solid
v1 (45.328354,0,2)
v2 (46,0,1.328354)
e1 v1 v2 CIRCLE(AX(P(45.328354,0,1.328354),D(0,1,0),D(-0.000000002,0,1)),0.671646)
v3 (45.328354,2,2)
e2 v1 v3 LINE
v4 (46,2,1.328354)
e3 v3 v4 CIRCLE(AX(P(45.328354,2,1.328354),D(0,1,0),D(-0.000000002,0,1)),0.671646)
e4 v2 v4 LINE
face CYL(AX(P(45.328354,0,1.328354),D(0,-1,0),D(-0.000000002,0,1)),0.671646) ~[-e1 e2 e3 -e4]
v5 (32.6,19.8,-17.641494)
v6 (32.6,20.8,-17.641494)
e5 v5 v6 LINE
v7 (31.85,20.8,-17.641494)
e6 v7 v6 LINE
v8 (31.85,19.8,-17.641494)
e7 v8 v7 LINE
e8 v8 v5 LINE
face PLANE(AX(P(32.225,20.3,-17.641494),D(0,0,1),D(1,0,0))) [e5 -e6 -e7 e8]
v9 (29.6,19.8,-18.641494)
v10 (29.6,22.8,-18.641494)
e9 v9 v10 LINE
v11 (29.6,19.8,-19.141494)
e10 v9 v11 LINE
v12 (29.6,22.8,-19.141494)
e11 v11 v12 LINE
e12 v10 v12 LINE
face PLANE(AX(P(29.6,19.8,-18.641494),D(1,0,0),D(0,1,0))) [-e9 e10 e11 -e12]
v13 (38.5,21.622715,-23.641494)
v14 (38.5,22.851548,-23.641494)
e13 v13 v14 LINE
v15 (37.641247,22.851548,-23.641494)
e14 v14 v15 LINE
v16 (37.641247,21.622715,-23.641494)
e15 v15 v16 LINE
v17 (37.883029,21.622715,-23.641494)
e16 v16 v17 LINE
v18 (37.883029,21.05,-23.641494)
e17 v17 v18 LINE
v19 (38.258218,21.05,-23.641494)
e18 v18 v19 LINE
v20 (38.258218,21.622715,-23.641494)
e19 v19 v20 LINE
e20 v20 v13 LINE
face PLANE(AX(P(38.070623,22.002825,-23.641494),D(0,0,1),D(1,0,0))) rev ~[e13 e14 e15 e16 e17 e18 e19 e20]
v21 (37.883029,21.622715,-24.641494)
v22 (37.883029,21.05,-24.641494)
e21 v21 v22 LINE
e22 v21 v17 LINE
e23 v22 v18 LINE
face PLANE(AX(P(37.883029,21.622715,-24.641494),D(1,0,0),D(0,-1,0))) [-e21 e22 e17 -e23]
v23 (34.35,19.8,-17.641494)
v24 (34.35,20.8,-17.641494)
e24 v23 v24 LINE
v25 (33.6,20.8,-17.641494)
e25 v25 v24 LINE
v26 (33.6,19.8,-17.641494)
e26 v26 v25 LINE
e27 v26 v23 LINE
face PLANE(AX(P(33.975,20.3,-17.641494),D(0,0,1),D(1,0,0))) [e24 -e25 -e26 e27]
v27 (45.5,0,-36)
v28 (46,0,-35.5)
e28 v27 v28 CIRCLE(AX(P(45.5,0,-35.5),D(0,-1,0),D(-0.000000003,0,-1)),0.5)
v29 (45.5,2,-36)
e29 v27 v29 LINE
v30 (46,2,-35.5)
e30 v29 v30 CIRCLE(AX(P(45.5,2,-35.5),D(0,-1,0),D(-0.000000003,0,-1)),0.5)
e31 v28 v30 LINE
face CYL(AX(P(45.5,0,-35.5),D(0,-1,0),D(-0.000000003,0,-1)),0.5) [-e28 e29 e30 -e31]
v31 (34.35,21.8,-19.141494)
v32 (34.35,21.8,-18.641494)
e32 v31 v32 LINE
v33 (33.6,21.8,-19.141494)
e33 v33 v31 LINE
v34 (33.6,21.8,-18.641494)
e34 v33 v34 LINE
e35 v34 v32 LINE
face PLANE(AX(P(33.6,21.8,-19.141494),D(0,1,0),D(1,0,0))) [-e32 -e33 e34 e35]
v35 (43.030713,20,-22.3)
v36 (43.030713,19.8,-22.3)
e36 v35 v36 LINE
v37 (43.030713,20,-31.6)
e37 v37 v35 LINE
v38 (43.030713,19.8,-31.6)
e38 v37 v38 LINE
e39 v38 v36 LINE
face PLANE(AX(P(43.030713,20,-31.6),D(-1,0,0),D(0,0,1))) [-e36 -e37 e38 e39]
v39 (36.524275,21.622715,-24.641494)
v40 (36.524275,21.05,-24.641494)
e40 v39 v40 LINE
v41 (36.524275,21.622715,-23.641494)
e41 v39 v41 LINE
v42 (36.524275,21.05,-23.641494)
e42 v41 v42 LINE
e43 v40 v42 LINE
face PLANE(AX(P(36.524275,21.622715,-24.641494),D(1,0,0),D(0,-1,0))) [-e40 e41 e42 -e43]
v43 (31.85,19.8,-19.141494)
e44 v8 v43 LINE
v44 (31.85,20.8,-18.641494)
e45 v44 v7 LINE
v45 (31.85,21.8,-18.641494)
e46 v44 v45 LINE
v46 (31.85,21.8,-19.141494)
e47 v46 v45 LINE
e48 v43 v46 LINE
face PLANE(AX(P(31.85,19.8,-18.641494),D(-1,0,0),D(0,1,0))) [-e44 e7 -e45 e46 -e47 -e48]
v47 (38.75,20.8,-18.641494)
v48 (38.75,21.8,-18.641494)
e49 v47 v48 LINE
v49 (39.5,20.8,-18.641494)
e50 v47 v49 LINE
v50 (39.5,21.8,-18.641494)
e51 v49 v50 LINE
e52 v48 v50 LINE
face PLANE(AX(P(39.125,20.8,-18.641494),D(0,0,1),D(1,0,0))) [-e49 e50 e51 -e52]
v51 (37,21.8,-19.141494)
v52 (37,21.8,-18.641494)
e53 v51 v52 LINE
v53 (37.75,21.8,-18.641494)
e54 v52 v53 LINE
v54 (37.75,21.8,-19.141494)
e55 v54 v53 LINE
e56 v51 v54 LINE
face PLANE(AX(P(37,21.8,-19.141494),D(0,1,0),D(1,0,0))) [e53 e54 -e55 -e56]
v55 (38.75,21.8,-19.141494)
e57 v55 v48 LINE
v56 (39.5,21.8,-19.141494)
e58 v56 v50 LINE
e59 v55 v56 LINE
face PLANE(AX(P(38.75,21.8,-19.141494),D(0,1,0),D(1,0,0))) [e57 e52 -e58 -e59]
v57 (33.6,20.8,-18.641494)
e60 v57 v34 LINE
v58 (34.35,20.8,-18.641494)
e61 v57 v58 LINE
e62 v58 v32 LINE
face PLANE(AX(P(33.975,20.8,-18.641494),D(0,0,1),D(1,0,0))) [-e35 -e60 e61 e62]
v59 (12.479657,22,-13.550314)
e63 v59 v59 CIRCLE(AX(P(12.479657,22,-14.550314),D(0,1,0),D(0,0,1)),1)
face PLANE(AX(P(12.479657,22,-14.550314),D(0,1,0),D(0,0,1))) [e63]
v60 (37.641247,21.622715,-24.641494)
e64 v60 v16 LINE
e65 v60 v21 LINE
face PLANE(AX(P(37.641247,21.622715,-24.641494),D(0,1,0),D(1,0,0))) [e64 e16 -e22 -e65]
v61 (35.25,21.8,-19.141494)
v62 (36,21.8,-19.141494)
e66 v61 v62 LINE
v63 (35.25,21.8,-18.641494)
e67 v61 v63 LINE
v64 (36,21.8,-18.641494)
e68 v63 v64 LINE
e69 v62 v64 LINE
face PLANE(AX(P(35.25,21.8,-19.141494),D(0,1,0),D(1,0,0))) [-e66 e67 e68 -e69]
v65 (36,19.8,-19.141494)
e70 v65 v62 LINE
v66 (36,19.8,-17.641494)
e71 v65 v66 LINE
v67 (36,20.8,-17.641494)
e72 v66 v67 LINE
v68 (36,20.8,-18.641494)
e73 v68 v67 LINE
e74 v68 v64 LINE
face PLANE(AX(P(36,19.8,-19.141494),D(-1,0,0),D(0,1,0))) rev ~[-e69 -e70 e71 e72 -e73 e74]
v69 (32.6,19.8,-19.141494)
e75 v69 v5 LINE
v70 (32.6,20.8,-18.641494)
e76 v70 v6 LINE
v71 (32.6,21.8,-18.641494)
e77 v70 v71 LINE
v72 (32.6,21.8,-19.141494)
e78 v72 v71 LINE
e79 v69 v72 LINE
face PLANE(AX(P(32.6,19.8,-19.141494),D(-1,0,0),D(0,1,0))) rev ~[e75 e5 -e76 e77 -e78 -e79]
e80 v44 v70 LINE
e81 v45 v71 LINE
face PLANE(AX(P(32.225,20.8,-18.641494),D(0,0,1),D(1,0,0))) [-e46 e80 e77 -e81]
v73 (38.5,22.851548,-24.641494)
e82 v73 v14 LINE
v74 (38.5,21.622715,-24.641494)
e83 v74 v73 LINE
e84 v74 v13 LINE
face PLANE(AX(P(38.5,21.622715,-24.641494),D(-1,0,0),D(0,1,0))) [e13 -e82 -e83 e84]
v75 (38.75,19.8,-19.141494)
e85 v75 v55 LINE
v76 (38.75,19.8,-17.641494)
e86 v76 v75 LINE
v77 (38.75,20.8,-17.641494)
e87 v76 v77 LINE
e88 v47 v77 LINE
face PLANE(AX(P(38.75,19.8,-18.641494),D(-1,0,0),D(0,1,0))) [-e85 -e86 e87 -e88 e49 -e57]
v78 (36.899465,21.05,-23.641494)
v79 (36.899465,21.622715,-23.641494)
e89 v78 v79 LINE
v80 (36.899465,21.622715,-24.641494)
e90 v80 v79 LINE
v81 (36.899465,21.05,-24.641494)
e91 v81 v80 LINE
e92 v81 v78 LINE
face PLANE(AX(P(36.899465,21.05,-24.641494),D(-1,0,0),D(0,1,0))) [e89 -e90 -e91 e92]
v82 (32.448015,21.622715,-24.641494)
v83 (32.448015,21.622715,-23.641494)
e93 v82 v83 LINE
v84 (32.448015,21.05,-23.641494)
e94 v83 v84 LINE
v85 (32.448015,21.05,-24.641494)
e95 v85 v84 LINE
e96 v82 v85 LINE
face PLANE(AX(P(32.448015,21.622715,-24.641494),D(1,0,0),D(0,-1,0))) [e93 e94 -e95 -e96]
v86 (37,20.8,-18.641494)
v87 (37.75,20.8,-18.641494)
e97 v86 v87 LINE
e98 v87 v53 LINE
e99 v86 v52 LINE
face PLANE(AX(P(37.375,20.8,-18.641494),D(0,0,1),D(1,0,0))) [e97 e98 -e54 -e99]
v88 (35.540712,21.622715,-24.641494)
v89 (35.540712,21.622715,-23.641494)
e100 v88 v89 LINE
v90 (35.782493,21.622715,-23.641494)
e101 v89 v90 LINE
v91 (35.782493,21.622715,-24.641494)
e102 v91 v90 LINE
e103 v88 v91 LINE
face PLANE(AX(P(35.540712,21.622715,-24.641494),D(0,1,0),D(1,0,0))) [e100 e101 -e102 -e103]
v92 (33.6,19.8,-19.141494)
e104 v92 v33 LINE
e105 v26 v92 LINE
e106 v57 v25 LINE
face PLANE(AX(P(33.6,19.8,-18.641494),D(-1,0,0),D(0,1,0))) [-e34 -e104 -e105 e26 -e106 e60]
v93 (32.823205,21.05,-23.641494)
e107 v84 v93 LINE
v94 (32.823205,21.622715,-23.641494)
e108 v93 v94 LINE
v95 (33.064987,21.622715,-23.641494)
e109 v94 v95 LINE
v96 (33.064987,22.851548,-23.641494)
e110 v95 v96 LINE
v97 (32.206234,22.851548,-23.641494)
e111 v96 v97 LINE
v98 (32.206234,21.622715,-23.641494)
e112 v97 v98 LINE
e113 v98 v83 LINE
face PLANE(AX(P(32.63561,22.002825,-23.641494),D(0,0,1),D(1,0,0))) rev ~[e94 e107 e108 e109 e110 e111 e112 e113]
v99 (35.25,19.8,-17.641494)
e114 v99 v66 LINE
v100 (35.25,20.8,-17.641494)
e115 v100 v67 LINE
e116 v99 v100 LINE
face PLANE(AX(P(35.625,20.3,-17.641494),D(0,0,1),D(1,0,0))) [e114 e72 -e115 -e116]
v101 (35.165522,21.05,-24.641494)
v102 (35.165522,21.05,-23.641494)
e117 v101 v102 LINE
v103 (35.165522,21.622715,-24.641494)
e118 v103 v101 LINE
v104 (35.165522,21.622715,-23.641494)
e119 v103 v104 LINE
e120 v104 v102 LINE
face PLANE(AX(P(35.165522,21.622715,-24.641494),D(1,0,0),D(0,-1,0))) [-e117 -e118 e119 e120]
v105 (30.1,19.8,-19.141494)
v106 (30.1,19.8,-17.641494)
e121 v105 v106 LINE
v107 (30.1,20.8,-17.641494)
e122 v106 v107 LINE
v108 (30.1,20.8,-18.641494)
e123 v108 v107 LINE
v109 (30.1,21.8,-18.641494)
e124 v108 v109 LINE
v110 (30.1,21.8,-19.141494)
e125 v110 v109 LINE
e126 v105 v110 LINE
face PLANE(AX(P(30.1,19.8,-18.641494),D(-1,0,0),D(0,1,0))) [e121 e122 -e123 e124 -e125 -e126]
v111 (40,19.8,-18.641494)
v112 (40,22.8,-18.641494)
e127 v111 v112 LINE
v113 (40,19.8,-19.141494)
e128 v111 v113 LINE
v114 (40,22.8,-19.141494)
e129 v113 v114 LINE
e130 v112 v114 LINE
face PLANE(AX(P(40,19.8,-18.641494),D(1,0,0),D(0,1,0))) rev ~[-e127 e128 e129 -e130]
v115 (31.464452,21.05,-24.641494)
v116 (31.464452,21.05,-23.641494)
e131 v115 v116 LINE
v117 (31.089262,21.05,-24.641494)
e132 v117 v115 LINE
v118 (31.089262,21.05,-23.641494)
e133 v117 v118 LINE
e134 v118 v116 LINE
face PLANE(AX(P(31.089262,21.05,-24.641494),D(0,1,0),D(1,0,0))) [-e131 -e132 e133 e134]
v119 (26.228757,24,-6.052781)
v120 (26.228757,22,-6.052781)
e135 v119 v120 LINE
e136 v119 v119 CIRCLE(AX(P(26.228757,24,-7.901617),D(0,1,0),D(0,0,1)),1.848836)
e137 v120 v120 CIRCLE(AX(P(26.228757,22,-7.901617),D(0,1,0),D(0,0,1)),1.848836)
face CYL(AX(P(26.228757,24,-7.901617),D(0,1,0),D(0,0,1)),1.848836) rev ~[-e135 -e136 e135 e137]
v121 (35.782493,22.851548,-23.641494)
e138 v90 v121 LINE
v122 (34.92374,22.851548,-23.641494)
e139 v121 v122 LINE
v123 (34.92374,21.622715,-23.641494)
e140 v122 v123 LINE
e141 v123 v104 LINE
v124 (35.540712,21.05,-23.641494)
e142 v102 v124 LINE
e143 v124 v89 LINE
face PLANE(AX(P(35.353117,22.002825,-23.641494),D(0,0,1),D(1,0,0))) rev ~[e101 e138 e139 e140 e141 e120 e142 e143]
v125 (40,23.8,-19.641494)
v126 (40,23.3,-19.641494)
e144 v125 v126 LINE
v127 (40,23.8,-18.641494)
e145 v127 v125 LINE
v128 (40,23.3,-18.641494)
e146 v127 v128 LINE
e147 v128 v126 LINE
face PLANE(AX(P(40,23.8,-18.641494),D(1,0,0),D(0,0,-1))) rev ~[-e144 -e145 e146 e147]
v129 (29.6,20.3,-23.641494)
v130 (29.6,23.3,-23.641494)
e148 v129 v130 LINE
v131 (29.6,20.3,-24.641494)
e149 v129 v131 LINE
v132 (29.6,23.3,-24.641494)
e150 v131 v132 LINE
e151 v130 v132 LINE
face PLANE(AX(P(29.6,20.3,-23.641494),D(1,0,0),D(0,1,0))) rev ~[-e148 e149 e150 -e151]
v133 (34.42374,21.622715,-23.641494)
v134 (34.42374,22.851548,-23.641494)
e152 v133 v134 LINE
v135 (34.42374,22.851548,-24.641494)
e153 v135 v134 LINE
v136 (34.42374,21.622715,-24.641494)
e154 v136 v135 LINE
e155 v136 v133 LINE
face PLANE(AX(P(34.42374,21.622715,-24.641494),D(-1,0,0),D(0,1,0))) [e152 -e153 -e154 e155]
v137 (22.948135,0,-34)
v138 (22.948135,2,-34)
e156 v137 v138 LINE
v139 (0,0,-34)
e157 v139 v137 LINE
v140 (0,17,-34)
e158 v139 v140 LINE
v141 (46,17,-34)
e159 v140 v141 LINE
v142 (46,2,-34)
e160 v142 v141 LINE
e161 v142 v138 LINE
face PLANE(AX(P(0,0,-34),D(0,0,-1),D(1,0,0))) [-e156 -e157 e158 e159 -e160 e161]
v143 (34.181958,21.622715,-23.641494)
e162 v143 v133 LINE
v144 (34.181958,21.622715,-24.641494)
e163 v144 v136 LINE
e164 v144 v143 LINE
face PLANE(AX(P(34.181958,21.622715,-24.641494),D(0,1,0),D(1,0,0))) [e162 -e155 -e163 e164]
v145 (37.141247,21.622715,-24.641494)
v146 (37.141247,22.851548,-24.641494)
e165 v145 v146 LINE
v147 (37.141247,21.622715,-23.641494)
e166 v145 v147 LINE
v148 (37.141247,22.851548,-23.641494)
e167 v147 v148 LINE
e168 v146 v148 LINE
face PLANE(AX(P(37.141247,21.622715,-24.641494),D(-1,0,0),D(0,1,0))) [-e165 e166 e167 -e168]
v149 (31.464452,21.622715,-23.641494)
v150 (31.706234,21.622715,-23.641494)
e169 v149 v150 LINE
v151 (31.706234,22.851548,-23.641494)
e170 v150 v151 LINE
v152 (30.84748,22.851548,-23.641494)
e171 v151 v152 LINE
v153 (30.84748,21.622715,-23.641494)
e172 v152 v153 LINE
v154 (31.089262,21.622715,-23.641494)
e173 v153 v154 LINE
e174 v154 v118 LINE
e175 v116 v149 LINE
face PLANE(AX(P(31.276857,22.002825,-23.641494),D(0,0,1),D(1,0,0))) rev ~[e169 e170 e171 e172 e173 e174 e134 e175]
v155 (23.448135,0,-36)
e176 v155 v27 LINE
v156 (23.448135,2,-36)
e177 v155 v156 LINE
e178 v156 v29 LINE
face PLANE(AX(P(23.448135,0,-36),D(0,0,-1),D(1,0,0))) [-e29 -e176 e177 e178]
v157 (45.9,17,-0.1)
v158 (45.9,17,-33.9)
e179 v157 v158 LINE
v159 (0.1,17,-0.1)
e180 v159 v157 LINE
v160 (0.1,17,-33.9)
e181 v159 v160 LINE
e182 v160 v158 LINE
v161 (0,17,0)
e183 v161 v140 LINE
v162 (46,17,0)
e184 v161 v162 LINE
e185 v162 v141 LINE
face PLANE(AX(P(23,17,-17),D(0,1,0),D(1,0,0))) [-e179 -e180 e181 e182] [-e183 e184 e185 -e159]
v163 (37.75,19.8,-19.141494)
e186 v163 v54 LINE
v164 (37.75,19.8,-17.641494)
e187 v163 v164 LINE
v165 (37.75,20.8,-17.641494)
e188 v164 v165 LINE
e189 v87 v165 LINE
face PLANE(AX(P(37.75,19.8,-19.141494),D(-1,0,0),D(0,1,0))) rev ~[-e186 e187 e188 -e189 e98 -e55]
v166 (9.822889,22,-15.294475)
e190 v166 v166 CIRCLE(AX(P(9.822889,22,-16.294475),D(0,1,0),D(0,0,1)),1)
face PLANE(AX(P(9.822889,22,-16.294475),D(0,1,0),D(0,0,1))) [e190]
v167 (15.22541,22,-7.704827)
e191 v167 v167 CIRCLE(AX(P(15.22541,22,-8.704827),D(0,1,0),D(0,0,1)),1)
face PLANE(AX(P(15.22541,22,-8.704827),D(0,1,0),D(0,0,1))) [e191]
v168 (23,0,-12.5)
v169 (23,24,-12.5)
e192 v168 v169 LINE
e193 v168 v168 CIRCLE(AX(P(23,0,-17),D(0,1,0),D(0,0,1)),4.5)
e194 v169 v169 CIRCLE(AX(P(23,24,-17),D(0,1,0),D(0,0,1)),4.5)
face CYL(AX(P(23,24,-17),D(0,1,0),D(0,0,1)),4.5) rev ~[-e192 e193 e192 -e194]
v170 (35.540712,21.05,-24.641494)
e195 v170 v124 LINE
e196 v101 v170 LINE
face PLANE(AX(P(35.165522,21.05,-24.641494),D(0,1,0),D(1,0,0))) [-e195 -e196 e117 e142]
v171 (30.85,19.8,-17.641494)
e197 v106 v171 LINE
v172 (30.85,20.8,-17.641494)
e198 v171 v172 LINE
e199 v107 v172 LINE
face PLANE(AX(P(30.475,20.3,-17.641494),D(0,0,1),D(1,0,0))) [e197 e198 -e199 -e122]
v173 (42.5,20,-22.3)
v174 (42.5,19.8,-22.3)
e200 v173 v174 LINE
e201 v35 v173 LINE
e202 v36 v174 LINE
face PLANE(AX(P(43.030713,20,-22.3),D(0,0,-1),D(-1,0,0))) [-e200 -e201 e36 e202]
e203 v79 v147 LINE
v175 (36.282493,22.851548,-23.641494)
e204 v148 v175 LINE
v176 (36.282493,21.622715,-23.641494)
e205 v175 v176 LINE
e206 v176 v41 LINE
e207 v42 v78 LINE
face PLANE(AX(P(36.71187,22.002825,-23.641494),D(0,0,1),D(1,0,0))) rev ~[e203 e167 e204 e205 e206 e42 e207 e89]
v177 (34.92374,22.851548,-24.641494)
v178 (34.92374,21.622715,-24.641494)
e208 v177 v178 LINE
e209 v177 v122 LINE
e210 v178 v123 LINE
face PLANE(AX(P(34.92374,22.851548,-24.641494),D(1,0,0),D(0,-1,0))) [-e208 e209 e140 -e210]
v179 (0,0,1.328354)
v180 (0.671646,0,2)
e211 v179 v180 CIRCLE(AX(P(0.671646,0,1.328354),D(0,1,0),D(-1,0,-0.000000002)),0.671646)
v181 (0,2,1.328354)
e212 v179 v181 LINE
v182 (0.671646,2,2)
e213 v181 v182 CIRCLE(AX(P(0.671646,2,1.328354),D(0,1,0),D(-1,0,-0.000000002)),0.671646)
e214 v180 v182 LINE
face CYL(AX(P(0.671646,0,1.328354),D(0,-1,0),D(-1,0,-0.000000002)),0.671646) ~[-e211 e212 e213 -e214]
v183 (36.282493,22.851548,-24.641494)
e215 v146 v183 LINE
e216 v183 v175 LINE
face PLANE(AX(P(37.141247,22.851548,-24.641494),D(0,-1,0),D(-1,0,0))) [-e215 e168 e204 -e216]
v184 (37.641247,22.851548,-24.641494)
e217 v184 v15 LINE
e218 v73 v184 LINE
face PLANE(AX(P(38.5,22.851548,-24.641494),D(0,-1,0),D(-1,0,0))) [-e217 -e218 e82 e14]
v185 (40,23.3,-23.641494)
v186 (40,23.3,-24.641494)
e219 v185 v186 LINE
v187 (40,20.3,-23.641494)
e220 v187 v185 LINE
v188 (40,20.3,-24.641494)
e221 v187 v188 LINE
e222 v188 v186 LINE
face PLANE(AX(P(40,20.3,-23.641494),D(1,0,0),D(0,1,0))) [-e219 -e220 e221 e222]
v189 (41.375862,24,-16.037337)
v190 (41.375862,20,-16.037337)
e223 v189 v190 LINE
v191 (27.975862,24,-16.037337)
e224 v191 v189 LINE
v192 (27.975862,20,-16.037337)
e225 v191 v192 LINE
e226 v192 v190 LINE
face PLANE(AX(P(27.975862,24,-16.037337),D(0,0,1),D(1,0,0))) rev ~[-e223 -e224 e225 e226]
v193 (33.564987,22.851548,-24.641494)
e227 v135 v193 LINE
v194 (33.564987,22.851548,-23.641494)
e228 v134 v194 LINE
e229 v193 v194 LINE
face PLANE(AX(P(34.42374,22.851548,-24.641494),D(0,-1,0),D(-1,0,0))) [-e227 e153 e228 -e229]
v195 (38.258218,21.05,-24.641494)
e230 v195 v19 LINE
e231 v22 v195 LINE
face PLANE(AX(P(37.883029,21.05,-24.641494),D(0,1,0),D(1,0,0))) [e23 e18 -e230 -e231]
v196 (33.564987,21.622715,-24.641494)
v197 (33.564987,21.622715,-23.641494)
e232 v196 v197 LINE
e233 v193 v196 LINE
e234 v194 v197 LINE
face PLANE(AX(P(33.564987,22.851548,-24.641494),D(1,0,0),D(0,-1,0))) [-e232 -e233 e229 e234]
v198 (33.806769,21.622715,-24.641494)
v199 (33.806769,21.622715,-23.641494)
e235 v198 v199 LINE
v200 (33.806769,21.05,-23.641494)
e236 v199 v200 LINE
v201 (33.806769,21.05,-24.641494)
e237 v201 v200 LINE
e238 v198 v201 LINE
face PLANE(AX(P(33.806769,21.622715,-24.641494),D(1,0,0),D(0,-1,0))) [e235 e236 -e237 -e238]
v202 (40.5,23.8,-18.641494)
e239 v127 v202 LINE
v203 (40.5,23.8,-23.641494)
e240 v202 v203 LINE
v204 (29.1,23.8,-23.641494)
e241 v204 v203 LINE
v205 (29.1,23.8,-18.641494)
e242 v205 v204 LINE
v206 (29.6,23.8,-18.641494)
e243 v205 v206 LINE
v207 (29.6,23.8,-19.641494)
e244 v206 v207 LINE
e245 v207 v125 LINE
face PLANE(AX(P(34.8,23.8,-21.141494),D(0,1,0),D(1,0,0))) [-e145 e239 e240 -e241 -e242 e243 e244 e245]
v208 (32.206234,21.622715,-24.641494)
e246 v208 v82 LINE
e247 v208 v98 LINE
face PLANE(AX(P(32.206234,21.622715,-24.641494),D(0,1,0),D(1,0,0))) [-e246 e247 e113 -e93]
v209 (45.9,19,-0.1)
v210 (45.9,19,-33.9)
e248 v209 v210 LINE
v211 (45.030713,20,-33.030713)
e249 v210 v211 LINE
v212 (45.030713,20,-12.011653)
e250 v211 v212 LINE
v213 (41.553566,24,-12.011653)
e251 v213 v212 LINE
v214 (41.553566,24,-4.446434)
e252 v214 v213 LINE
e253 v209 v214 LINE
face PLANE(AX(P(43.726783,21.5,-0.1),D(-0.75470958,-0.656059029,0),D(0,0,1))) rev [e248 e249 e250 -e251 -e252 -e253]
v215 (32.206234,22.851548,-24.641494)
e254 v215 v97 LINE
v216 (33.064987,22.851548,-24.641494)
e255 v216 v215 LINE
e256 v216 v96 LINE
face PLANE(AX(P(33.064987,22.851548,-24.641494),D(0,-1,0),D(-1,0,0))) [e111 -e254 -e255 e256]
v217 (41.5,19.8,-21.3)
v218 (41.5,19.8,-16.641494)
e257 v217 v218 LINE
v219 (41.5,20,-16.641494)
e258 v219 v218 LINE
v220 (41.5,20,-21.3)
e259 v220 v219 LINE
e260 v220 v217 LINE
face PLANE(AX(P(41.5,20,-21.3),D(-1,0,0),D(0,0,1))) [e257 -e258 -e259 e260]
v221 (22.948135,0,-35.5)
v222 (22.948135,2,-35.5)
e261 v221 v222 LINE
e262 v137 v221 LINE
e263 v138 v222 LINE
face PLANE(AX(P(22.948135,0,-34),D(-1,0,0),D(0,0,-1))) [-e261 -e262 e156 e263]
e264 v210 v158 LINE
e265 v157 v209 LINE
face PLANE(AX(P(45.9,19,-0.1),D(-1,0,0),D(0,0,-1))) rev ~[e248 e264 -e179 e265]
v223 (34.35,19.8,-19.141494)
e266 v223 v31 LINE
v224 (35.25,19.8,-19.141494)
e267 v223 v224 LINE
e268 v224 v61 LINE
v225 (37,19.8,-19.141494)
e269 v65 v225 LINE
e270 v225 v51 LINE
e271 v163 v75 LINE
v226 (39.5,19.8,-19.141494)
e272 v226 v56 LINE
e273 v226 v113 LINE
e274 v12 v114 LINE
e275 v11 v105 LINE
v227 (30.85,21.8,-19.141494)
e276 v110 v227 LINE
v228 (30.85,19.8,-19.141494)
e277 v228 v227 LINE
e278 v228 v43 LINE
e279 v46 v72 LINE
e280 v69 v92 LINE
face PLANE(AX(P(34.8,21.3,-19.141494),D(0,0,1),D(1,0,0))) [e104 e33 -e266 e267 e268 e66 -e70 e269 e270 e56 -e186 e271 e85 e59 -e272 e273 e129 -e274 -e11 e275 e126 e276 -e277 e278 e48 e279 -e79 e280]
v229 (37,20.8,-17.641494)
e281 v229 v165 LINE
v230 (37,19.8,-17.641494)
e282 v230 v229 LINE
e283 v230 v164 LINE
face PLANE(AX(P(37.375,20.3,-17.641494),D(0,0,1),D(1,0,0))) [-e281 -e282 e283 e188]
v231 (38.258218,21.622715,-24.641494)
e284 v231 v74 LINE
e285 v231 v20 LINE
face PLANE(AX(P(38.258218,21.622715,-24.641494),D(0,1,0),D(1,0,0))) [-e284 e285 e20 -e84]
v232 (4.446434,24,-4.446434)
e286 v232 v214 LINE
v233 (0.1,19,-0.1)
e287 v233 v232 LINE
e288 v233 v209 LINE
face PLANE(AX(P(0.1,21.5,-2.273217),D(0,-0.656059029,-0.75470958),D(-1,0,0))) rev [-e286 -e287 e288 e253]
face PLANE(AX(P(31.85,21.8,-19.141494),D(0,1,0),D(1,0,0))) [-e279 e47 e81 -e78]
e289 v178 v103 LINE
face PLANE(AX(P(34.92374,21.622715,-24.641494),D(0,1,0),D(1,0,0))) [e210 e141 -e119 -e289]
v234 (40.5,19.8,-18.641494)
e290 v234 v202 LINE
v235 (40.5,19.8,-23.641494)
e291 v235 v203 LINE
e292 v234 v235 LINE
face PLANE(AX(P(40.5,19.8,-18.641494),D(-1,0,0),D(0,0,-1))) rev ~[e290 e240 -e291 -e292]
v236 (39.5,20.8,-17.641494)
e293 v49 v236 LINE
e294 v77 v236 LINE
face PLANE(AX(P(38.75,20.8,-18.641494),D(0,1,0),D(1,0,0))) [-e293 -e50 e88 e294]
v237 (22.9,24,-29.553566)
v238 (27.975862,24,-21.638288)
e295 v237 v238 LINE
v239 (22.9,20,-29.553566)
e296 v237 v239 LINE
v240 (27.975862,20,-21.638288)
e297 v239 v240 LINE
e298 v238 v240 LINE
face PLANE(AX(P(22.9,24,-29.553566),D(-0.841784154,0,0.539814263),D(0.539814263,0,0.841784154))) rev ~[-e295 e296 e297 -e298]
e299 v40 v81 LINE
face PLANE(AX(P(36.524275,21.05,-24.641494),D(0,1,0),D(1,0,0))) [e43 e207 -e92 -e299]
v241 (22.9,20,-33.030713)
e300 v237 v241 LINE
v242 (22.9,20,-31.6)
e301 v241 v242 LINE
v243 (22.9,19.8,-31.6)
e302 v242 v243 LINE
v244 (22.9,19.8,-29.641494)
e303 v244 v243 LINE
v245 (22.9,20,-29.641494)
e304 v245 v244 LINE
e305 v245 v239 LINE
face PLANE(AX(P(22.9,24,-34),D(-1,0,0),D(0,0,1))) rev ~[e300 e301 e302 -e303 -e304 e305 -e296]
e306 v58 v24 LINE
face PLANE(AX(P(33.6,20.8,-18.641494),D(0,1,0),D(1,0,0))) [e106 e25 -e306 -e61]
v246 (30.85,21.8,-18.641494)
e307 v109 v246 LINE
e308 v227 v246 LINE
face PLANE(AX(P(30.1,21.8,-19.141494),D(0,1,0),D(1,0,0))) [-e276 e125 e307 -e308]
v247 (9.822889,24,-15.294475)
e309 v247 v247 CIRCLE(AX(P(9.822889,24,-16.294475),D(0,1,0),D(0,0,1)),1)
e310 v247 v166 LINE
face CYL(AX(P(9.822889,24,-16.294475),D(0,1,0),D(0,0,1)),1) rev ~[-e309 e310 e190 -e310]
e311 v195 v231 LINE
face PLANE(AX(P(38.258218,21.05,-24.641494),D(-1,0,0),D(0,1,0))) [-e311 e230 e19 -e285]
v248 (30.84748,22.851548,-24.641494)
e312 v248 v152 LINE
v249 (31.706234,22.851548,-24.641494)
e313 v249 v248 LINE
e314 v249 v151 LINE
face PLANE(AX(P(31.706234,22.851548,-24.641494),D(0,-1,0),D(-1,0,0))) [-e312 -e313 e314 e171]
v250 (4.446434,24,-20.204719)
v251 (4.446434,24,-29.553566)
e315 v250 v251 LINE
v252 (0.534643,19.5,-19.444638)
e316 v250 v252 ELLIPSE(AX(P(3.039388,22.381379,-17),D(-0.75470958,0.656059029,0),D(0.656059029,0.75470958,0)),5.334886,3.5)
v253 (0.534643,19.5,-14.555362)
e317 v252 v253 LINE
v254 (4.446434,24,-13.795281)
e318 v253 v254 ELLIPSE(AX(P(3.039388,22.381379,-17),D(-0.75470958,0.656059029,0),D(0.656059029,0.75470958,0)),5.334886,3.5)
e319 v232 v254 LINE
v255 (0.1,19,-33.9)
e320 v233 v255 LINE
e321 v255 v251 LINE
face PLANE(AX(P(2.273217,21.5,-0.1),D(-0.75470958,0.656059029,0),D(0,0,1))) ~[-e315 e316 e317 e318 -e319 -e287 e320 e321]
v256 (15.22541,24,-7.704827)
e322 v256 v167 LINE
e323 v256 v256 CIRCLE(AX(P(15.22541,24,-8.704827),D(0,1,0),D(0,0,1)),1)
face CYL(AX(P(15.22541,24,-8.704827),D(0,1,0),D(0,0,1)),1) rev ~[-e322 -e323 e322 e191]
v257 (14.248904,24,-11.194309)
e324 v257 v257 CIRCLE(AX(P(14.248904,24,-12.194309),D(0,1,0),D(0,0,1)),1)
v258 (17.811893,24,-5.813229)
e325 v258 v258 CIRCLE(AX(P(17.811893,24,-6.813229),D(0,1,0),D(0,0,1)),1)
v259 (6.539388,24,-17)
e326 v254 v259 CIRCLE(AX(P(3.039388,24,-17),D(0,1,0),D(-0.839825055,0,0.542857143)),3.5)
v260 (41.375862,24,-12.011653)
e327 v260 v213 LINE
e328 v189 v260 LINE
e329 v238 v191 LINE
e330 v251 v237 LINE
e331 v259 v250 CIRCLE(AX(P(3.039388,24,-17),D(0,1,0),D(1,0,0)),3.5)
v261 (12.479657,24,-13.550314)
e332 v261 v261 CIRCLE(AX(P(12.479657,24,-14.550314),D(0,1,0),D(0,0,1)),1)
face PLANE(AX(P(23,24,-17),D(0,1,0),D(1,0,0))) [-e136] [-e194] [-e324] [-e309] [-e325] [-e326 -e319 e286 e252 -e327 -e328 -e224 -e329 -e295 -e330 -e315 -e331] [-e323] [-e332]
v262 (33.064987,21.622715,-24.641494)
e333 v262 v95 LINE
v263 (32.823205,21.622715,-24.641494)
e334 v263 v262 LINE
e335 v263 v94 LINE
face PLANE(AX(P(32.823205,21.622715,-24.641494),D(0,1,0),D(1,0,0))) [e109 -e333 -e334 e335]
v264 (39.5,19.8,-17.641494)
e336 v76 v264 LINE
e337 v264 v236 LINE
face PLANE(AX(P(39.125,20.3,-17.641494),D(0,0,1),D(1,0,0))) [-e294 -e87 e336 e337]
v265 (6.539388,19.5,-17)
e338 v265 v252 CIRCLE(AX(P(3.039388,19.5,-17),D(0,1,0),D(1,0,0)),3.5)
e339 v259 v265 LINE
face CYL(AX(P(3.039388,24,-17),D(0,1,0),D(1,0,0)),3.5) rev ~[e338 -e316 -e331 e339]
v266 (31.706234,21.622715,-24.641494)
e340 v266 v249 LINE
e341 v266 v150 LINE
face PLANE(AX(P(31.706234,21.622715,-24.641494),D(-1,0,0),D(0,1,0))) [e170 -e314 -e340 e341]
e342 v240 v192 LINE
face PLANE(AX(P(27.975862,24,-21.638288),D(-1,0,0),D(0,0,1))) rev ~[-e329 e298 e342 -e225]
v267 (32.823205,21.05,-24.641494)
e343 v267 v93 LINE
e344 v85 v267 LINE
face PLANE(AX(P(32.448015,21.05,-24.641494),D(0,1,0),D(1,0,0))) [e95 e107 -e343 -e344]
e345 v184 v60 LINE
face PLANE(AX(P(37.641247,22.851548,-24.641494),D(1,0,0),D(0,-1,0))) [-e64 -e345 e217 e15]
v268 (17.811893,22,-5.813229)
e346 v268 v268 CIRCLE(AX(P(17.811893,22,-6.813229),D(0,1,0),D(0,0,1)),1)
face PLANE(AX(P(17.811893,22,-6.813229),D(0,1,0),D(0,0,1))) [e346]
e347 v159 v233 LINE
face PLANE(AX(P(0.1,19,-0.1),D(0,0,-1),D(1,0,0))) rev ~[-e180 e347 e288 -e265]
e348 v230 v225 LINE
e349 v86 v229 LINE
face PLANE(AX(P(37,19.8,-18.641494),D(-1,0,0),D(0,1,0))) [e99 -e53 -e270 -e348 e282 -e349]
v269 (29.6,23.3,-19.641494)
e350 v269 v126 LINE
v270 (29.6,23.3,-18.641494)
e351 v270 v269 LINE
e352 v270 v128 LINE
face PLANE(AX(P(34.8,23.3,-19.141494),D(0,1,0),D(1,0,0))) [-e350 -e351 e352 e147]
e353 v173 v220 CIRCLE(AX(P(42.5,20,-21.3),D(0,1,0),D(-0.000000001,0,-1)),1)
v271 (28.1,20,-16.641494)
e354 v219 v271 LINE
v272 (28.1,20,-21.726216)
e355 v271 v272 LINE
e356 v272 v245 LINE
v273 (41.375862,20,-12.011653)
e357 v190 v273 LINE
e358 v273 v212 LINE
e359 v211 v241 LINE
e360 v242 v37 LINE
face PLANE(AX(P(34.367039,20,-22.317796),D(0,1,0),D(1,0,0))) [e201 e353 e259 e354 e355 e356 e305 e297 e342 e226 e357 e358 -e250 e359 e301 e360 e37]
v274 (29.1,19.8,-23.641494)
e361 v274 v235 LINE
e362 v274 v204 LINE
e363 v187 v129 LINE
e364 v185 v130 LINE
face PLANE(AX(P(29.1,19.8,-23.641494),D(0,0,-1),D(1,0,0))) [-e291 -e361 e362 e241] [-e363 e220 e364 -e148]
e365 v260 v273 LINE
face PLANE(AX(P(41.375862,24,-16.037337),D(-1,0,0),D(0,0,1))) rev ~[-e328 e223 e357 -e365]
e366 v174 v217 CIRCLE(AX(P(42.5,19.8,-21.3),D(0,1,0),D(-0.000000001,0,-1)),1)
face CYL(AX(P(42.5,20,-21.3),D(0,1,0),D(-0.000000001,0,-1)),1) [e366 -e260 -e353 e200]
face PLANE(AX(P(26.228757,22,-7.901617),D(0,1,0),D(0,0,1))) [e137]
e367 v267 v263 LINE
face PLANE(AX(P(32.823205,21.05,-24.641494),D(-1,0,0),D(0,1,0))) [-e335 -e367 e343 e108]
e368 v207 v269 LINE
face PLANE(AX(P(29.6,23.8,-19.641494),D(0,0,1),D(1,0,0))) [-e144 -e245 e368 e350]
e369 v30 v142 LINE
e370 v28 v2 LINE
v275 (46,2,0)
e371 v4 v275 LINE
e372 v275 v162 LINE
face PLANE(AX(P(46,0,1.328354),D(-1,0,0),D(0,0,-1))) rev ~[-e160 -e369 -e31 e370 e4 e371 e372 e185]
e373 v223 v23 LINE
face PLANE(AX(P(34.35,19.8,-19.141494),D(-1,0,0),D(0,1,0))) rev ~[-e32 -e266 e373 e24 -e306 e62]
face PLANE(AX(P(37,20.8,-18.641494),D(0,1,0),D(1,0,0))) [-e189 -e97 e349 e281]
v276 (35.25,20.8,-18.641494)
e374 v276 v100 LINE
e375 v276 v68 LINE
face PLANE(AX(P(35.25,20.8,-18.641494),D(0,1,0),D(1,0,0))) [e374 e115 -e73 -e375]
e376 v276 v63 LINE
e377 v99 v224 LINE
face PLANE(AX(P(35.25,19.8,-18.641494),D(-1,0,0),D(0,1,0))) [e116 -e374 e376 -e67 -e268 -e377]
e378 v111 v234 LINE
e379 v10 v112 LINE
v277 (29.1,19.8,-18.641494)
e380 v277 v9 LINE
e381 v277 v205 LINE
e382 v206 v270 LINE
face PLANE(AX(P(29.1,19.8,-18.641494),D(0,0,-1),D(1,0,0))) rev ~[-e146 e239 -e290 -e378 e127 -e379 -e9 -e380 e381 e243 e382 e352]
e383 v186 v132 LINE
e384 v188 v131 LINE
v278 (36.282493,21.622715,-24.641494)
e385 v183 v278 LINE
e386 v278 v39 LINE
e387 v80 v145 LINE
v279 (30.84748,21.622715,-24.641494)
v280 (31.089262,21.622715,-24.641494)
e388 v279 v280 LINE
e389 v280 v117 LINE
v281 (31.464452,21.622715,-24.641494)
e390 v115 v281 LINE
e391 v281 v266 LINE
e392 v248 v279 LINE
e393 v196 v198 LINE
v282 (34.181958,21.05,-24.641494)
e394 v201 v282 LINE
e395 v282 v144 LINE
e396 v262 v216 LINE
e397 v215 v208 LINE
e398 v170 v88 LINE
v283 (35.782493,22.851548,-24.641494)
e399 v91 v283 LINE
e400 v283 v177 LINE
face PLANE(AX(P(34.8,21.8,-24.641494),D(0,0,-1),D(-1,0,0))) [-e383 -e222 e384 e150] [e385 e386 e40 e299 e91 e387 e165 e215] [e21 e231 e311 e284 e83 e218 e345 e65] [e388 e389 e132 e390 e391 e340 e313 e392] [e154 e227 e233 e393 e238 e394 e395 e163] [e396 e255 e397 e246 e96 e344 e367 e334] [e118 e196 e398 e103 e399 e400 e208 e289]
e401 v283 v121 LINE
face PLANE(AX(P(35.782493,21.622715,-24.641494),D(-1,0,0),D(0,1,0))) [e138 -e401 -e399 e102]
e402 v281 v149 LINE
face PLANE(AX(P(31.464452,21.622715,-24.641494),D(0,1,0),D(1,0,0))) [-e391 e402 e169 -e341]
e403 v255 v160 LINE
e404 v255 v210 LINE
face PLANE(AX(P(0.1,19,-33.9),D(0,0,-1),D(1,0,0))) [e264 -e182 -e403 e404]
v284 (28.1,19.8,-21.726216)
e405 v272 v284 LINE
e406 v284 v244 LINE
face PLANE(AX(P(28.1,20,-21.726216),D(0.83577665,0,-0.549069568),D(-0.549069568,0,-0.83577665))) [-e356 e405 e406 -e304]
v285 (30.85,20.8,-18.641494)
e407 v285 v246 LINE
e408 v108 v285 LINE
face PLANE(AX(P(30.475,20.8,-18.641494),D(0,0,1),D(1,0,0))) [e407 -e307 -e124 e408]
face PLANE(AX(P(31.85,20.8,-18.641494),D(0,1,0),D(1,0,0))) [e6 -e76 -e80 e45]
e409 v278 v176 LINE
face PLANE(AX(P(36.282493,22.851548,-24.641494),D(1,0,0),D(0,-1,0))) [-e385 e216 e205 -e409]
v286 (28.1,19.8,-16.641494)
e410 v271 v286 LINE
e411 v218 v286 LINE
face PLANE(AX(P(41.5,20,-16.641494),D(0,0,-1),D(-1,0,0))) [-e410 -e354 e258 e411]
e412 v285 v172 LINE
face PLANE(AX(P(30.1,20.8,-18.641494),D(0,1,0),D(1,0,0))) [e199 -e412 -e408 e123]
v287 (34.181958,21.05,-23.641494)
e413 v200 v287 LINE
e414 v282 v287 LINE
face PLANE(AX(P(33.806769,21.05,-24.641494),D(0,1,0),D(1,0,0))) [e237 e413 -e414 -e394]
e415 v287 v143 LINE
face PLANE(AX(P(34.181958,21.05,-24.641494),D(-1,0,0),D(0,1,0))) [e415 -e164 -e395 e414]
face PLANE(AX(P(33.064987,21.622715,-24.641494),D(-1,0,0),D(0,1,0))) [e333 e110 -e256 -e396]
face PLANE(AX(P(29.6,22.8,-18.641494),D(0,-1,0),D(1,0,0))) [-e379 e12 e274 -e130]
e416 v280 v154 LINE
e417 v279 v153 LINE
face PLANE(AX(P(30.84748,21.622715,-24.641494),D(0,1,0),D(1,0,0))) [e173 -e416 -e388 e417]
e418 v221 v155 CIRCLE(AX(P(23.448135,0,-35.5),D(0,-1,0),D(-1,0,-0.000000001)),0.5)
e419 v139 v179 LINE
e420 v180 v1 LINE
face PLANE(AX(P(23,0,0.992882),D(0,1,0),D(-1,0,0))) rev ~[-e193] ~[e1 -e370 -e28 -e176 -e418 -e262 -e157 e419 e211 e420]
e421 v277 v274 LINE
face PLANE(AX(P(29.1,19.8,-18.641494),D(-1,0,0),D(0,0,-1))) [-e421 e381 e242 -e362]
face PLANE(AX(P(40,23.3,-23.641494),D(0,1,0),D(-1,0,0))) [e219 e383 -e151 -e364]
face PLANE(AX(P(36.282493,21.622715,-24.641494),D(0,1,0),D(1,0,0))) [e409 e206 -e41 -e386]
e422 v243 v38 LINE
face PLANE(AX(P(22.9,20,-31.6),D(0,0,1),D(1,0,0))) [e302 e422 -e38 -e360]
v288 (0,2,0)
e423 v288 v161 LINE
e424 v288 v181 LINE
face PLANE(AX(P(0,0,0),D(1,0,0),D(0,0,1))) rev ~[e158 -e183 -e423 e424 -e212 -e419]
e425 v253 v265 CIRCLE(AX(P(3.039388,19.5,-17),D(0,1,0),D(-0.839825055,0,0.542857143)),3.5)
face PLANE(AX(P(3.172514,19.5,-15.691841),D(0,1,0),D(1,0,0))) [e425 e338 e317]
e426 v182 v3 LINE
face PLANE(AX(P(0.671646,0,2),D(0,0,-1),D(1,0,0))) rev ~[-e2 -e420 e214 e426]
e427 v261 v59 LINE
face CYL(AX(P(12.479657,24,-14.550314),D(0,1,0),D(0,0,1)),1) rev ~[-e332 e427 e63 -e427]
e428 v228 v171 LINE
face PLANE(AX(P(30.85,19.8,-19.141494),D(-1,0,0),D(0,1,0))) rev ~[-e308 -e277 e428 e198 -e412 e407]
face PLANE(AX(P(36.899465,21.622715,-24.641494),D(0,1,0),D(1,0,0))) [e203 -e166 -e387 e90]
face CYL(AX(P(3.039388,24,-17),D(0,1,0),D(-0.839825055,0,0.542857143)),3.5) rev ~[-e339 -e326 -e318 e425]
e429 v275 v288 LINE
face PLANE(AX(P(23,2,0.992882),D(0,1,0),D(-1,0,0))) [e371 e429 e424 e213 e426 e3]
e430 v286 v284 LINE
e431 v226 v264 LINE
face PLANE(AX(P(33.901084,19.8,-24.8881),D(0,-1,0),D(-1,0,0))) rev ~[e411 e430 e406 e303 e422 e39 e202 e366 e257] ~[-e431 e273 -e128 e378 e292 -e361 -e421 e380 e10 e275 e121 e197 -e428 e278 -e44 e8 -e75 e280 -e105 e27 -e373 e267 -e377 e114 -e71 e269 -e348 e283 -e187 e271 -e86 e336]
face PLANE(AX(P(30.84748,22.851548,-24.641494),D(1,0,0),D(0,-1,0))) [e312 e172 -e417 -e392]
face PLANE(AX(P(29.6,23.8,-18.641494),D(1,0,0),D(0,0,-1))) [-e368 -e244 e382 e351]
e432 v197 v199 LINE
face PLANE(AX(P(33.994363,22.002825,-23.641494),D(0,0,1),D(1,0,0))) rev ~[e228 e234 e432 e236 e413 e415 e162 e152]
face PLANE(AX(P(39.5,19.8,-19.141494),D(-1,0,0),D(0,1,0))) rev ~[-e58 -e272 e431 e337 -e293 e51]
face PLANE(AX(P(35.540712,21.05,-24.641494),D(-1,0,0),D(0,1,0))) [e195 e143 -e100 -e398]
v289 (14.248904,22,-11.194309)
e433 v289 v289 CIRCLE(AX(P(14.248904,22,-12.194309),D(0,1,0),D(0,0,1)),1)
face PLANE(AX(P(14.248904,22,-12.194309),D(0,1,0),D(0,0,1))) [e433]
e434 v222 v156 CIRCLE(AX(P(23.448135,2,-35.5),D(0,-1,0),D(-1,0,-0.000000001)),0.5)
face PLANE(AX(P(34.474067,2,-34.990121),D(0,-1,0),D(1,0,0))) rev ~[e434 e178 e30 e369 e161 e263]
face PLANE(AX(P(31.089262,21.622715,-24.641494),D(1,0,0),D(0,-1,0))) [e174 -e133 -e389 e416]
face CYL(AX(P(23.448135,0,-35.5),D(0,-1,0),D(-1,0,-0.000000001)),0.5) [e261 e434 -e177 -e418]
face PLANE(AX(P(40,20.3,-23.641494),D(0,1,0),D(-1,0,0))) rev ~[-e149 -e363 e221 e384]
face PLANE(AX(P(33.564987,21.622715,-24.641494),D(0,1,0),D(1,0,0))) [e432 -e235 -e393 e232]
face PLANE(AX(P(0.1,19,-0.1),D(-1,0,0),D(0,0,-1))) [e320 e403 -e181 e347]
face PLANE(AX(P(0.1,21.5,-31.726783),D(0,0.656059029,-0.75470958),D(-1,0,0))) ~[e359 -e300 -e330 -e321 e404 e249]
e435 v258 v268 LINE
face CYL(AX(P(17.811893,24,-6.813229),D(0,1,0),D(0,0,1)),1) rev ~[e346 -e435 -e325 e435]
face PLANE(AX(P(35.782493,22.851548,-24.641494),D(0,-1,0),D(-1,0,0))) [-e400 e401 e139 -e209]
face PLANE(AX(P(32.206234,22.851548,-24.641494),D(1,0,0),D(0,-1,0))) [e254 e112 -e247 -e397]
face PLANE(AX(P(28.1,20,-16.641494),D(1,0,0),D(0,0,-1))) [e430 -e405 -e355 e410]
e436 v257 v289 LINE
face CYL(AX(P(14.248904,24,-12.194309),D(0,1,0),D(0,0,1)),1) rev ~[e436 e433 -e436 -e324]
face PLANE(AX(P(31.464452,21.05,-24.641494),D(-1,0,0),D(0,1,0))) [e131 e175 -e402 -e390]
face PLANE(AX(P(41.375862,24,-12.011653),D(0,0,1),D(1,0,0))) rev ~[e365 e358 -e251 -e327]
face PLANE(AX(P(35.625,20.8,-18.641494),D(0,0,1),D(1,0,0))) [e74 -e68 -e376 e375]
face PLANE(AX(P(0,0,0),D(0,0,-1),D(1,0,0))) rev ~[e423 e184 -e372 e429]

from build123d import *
from OCP.BRepFilletAPI import BRepFilletAPI_MakeChamfer

# Parameters (mm, degrees)
SKETCH1_W           = 46
SKETCH1_H           = 34
SKETCH1_R           = 4.5
BOSS_EXTRUDE1_DEPTH = 17
SKETCH2_W           = 45.8
SKETCH2_H           = 33.8
BOSS_EXTRUDE2_DEPTH = 2
SKETCH3_W           = 45.8
SKETCH3_H           = 33.8
BOSS_EXTRUDE3_DEPTH = 5
CHAMFER1_SIZE       = 5
CHAMFER1_SIZE2      = 4.346433689
SKETCH5_R           = 4.5
CUT_EXTRUDE1_DEPTH  = 63.032249677
CUT_EXTRUDE2_DEPTH  = 4
CUT_EXTRUDE3_DEPTH  = 4.5
CUT_EXTRUDE4_DEPTH  = 0.2
SKETCH11_W          = 11.4
SKETCH11_H          = 5
BOSS_EXTRUDE4_DEPTH = 4
SKETCH12_W          = 10.4
SKETCH12_H          = 1
CUT_EXTRUDE5_DEPTH  = 0.5
SKETCH13_W          = 10.4
SKETCH13_H          = 3
CUT_EXTRUDE6_DEPTH  = 0.5
SKETCH14_W          = 0.75
SKETCH14_H          = 2
BOSS_EXTRUDE5_DEPTH = 0.5
SKETCH15_W          = 0.75
SKETCH15_H          = 1
BOSS_EXTRUDE6_DEPTH = 1
SKETCH16_W          = 10.4
SKETCH16_H          = 3
BOSS_EXTRUDE7_DEPTH = 1
CUT_EXTRUDE7_DEPTH  = 1
SKETCH19_R          = 1
CUT_EXTRUDE8_DEPTH  = 2
SKETCH20_R          = 1.848835828
CUT_EXTRUDE9_DEPTH  = 2
BOSS_EXTRUDE8_DEPTH = 2
BOSS_EXTRUDE9_DEPTH = 2


with BuildPart() as part:
    # Sketch1 → Boss-Extrude1 (new body)
    with BuildSketch(Plane(origin=(0, 0, 0), x_dir=(1, 0, 0), z_dir=(0, 1, 0))):
        with Locations((23, 17)):
            Rectangle(SKETCH1_W, SKETCH1_H)
        with Locations(Location((23, 17, 0), (0, 0, 270))):
            Circle(SKETCH1_R, mode=Mode.SUBTRACT)
    extrude(amount=BOSS_EXTRUDE1_DEPTH)

    # Sketch2 → Boss-Extrude2 (add)
    with BuildSketch(Plane(origin=(0, 17, 0), x_dir=(1, 0, 0), z_dir=(0, 1, 0))):
        with Locations((23, 17)):
            Rectangle(SKETCH2_W, SKETCH2_H)
    extrude(amount=BOSS_EXTRUDE2_DEPTH)

    # Sketch3 → Boss-Extrude3 (add)
    with BuildSketch(Plane(origin=(0, 19, 0), x_dir=(1, 0, 0), z_dir=(0, 1, 0))):
        with Locations((23, 17)):
            Rectangle(SKETCH3_W, SKETCH3_H)
    extrude(amount=BOSS_EXTRUDE3_DEPTH)

    # Chamfer1: one chamfer whose edges measure the first distance from different faces: ONE call of the kernel's chamfer builder (chamfer() names one face for all edges)
    chamfer1_edges_1 = [part.edges().sort_by_distance(p)[0] for p in [
        (23, 24, -33.9),
    ]]
    chamfer1_side_1 = [part.faces().sort_by_distance(p)[0] for p in [
        (23, 20.5, -33.9),
    ]]
    chamfer1_edges_2 = [part.edges().sort_by_distance(p)[0] for p in [
        (0.1, 24, -17),
    ]]
    chamfer1_side_2 = [part.faces().sort_by_distance(p)[0] for p in [
        (0.1, 20.5, -17),
    ]]
    chamfer1_edges_3 = [part.edges().sort_by_distance(p)[0] for p in [
        (23, 24, -0.1),
    ]]
    chamfer1_side_3 = [part.faces().sort_by_distance(p)[0] for p in [
        (23, 20.5, -0.1),
    ]]
    chamfer1_edges_4 = [part.edges().sort_by_distance(p)[0] for p in [
        (45.9, 24, -17),
    ]]
    chamfer1_side_4 = [part.faces().sort_by_distance(p)[0] for p in [
        (45.9, 20.5, -17),
    ]]
    chamfer1 = BRepFilletAPI_MakeChamfer(part.part.solid().wrapped)
    for e in chamfer1_edges_1:
        chamfer1.Add(CHAMFER1_SIZE, CHAMFER1_SIZE2, e.wrapped, chamfer1_side_1[0].wrapped)  # the first distance lies on this face
    for e in chamfer1_edges_2:
        chamfer1.Add(CHAMFER1_SIZE, CHAMFER1_SIZE2, e.wrapped, chamfer1_side_2[0].wrapped)  # the first distance lies on this face
    for e in chamfer1_edges_3:
        chamfer1.Add(CHAMFER1_SIZE, CHAMFER1_SIZE2, e.wrapped, chamfer1_side_3[0].wrapped)  # the first distance lies on this face
    for e in chamfer1_edges_4:
        chamfer1.Add(CHAMFER1_SIZE, CHAMFER1_SIZE2, e.wrapped, chamfer1_side_4[0].wrapped)  # the first distance lies on this face
    add(Compound.cast(chamfer1.Shape()), mode=Mode.REPLACE)

    # Sketch5 → Cut-Extrude1 (cut, through all)
    with BuildSketch(Plane(origin=(0, 24, 0), x_dir=(1, 0, 0), z_dir=(0, 1, 0))):
        with Locations(Location((23, 17, 0), (0, 0, 270))):
            Circle(SKETCH5_R)
    extrude(amount=-CUT_EXTRUDE1_DEPTH, mode=Mode.SUBTRACT)

    # Sketch7 → Cut-Extrude2 (cut)
    with BuildSketch(Plane(origin=(0, 24, 0), x_dir=(1, 0, 0), z_dir=(0, 1, 0))):
        Polygon((41.375862069, 12.011652794), (41.553566311, 12.011652794), (41.553566311, 29.553566311), (22.9, 29.553566311), (27.975862069, 21.638287753), (27.975862069, 16.037336504), (41.375862069, 16.037336504), align=None)
        Polygon((45.9, 12.011652794), (45.9, 33.9), (22.9, 34), (22.9, 29.553566311), (41.553566311, 29.553566311), (41.553566311, 12.011652794), align=None)
    extrude(amount=-CUT_EXTRUDE2_DEPTH, mode=Mode.SUBTRACT)

    # Sketch9 → Cut-Extrude3 (cut)
    with BuildSketch(Plane(origin=(0, 24, 0), x_dir=(1, 0, 0), z_dir=(0, 1, 0))):
        with BuildLine():
            Line((0.1, 17), (0.1, 15.1))
            ThreePointArc((0.1, 15.1), (4.029878247, 13.643077531), (6.539387691, 17))
            Line((6.539387691, 17), (0.1, 17))
        make_face()
        with BuildLine():
            Line((0.1, 18.9), (0.1, 17))
            Line((0.1, 17), (6.539387691, 17))
            ThreePointArc((6.539387691, 17), (4.029878247, 20.356922469), (0.1, 18.9))
        make_face()
        with BuildLine():
            Line((0.1, 17), (0.1, 15.1))
            ThreePointArc((0.1, 15.1), (4.029878247, 13.643077531), (6.539387691, 17))
            Line((6.539387691, 17), (0.1, 17))
        make_face()
        with BuildLine():
            Line((0.1, 18.9), (0.1, 17))
            Line((0.1, 17), (6.539387691, 17))
            ThreePointArc((6.539387691, 17), (4.029878247, 20.356922469), (0.1, 18.9))
        make_face()
        with BuildLine():
            Line((0.1, 17), (0.1, 15.1))
            ThreePointArc((0.1, 15.1), (4.029878247, 13.643077531), (6.539387691, 17))
            Line((6.539387691, 17), (0.1, 17))
        make_face()
        with BuildLine():
            Line((0.1, 18.9), (0.1, 17))
            Line((0.1, 17), (6.539387691, 17))
            ThreePointArc((6.539387691, 17), (4.029878247, 20.356922469), (0.1, 18.9))
        make_face()
        with BuildLine():
            Line((0.1, 17), (0.1, 15.1))
            ThreePointArc((0.1, 15.1), (4.029878247, 13.643077531), (6.539387691, 17))
            Line((6.539387691, 17), (0.1, 17))
        make_face()
        with BuildLine():
            Line((0.1, 18.9), (0.1, 17))
            Line((0.1, 17), (6.539387691, 17))
            ThreePointArc((6.539387691, 17), (4.029878247, 20.356922469), (0.1, 18.9))
        make_face()
    extrude(amount=-CUT_EXTRUDE3_DEPTH, mode=Mode.SUBTRACT)

    # Sketch10 → Cut-Extrude4 (cut)
    with BuildSketch(Plane(origin=(0, 20, 0), x_dir=(1, 0, 0), z_dir=(0, 1, 0))):
        with BuildLine():
            Line((43.030713262, 22.3), (42.5, 22.3))
            ThreePointArc((42.5, 22.3), (41.792893219, 22.007106781), (41.5, 21.3))
            Line((41.5, 21.3), (41.5, 16.641494247))
            Line((41.5, 16.641494247), (28.1, 16.641494247))
            Line((28.1, 16.641494247), (28.1, 21.726215688))
            Line((28.1, 21.726215688), (22.9, 29.641494247))
            Line((22.9, 29.641494247), (22.9, 31.6))
            Line((22.9, 31.6), (43.030713262, 31.6))
            Line((43.030713262, 31.6), (43.030713262, 22.3))
        make_face()
    extrude(amount=-CUT_EXTRUDE4_DEPTH, mode=Mode.SUBTRACT)

    # Sketch11 → Boss-Extrude4 (add)
    with BuildSketch(Plane(origin=(0, 19.8, 0), x_dir=(1, 0, 0), z_dir=(0, 1, 0))):
        with Locations((34.8, 21.141494247)):
            Rectangle(SKETCH11_W, SKETCH11_H)
    extrude(amount=BOSS_EXTRUDE4_DEPTH)

    # Sketch12 → Cut-Extrude5 (cut)
    with BuildSketch(Plane(origin=(0, 23.8, 0), x_dir=(1, 0, 0), z_dir=(0, 1, 0))):
        with Locations((34.8, 19.141494247)):
            Rectangle(SKETCH12_W, SKETCH12_H)
    extrude(amount=-CUT_EXTRUDE5_DEPTH, mode=Mode.SUBTRACT)

    # Sketch13 → Cut-Extrude6 (cut)
    with BuildSketch(Plane.XY.offset(-18.641494247)):
        with Locations((34.8, 21.3)):
            Rectangle(SKETCH13_W, SKETCH13_H)
    extrude(amount=-CUT_EXTRUDE6_DEPTH, mode=Mode.SUBTRACT)

    # Sketch14 → Boss-Extrude5 (add)
    with BuildSketch(Plane.XY.offset(-19.141494247)):
        with Locations((30.475, 20.8)):
            Rectangle(SKETCH14_W, SKETCH14_H)
        with Locations((32.225, 20.8)):
            Rectangle(SKETCH14_W, SKETCH14_H)
        with Locations((33.975, 20.8)):
            Rectangle(SKETCH14_W, SKETCH14_H)
        with Locations((35.625, 20.8)):
            Rectangle(SKETCH14_W, SKETCH14_H)
        with Locations((37.375, 20.8)):
            Rectangle(SKETCH14_W, SKETCH14_H)
        with Locations((39.125, 20.8)):
            Rectangle(SKETCH14_W, SKETCH14_H)
    extrude(amount=BOSS_EXTRUDE5_DEPTH)

    # Sketch15 → Boss-Extrude6 (add)
    with BuildSketch(Plane.XY.offset(-18.641494247)):
        with Locations((30.475, 20.3)):
            Rectangle(SKETCH15_W, SKETCH15_H)
        with Locations((32.225, 20.3)):
            Rectangle(SKETCH15_W, SKETCH15_H)
        with Locations((33.975, 20.3)):
            Rectangle(SKETCH15_W, SKETCH15_H)
        with Locations((35.625, 20.3)):
            Rectangle(SKETCH15_W, SKETCH15_H)
        with Locations((37.375, 20.3)):
            Rectangle(SKETCH15_W, SKETCH15_H)
        with Locations((39.125, 20.3)):
            Rectangle(SKETCH15_W, SKETCH15_H)
    extrude(amount=BOSS_EXTRUDE6_DEPTH)

    # Sketch16 → Boss-Extrude7 (add)
    with BuildSketch(Plane(origin=(0, 0, -23.641494247), x_dir=(-1, 0, 0), z_dir=(0, 0, -1))):
        with Locations((-34.8, 21.8)):
            Rectangle(SKETCH16_W, SKETCH16_H)
    extrude(amount=BOSS_EXTRUDE7_DEPTH)

    # Sketch18 → Cut-Extrude7 (cut)
    with BuildSketch(Plane(origin=(0, 0, -24.641494247), x_dir=(-1, 0, 0), z_dir=(0, 0, -1))):
        Polygon((-38.5, 22.851547848), (-37.641246713, 22.851547848), (-37.641246713, 21.62271547), (-37.883028636, 21.62271547), (-37.883028636, 21.05), (-38.258218077, 21.05), (-38.258218077, 21.62271547), (-38.5, 21.62271547), align=None)
        Polygon((-35.782493426, 22.851547848), (-34.923740138, 22.851547848), (-34.923740138, 21.62271547), (-35.165522062, 21.62271547), (-35.165522062, 21.05), (-35.540711502, 21.05), (-35.540711502, 21.62271547), (-35.782493426, 21.62271547), align=None)
        Polygon((-37.141246713, 22.851547848), (-36.282493426, 22.851547848), (-36.282493426, 21.62271547), (-36.524275349, 21.62271547), (-36.524275349, 21.05), (-36.89946479, 21.05), (-36.89946479, 21.62271547), (-37.141246713, 21.62271547), align=None)
        Polygon((-34.423740138, 22.851547848), (-33.564986851, 22.851547848), (-33.564986851, 21.62271547), (-33.806768774, 21.62271547), (-33.806768774, 21.05), (-34.181958215, 21.05), (-34.181958215, 21.62271547), (-34.423740138, 21.62271547), align=None)
        Polygon((-33.064986851, 22.851547848), (-32.206233564, 22.851547848), (-32.206233564, 21.62271547), (-32.448015487, 21.62271547), (-32.448015487, 21.05), (-32.823204928, 21.05), (-32.823204928, 21.62271547), (-33.064986851, 21.62271547), align=None)
        Polygon((-31.706233564, 22.851547848), (-30.847480277, 22.851547848), (-30.847480277, 21.62271547), (-31.0892622, 21.62271547), (-31.0892622, 21.05), (-31.464451641, 21.05), (-31.464451641, 21.62271547), (-31.706233564, 21.62271547), align=None)
    extrude(amount=-CUT_EXTRUDE7_DEPTH, mode=Mode.SUBTRACT)

    # Sketch19 → Cut-Extrude8 (cut)
    with BuildSketch(Plane(origin=(0, 24, 0), x_dir=(1, 0, 0), z_dir=(0, 1, 0))):
        with Locations(Location((9.822889118, 16.294475275, 0), (0, 0, 270))):
            Circle(SKETCH19_R)
        with Locations(Location((12.479656801, 14.55031441, 0), (0, 0, 270))):
            Circle(SKETCH19_R)
        with Locations(Location((14.248903695, 12.19430902, 0), (0, 0, 270))):
            Circle(SKETCH19_R)
        with Locations(Location((15.225409883, 8.704826885, 0), (0, 0, 270))):
            Circle(SKETCH19_R)
        with Locations(Location((17.811892688, 6.813228664, 0), (0, 0, 270))):
            Circle(SKETCH19_R)
    extrude(amount=-CUT_EXTRUDE8_DEPTH, mode=Mode.SUBTRACT)

    # Sketch20 → Cut-Extrude9 (cut)
    with BuildSketch(Plane(origin=(0, 24, 0), x_dir=(1, 0, 0), z_dir=(0, 1, 0))):
        with Locations(Location((26.228756872, 7.901616706, 0), (0, 0, 270))):
            Circle(SKETCH20_R)
    extrude(amount=-CUT_EXTRUDE9_DEPTH, mode=Mode.SUBTRACT)

    # Sketch21 → Boss-Extrude8 (add)
    with BuildSketch(Plane.XZ):
        with BuildLine():
            Line((46, -34), (22.948134598, -34))
            Line((22.948134598, -34), (22.948134598, -35.5))
            ThreePointArc((22.948134598, -35.5), (23.094581208, -35.853553391), (23.448134598, -36))
            Line((23.448134598, -36), (45.5, -36))
            ThreePointArc((45.5, -36), (45.853553391, -35.853553391), (46, -35.5))
            Line((46, -35.5), (46, -34))
        make_face()
    extrude(amount=-BOSS_EXTRUDE8_DEPTH)

    # Sketch22 → Boss-Extrude9 (add)
    with BuildSketch(Plane.XZ):
        with BuildLine():
            Line((46, 0), (0, 0))
            Line((0, 0), (0, 1.328354237))
            ThreePointArc((0, 1.328354237), (0.196720489, 1.803279511), (0.671645763, 2))
            Line((0.671645763, 2), (45.328354237, 2))
            ThreePointArc((45.328354237, 2), (45.803279511, 1.803279511), (46, 1.328354237))
            Line((46, 1.328354237), (46, 0))
        make_face()
    extrude(amount=-BOSS_EXTRUDE9_DEPTH)


solid = part.part
